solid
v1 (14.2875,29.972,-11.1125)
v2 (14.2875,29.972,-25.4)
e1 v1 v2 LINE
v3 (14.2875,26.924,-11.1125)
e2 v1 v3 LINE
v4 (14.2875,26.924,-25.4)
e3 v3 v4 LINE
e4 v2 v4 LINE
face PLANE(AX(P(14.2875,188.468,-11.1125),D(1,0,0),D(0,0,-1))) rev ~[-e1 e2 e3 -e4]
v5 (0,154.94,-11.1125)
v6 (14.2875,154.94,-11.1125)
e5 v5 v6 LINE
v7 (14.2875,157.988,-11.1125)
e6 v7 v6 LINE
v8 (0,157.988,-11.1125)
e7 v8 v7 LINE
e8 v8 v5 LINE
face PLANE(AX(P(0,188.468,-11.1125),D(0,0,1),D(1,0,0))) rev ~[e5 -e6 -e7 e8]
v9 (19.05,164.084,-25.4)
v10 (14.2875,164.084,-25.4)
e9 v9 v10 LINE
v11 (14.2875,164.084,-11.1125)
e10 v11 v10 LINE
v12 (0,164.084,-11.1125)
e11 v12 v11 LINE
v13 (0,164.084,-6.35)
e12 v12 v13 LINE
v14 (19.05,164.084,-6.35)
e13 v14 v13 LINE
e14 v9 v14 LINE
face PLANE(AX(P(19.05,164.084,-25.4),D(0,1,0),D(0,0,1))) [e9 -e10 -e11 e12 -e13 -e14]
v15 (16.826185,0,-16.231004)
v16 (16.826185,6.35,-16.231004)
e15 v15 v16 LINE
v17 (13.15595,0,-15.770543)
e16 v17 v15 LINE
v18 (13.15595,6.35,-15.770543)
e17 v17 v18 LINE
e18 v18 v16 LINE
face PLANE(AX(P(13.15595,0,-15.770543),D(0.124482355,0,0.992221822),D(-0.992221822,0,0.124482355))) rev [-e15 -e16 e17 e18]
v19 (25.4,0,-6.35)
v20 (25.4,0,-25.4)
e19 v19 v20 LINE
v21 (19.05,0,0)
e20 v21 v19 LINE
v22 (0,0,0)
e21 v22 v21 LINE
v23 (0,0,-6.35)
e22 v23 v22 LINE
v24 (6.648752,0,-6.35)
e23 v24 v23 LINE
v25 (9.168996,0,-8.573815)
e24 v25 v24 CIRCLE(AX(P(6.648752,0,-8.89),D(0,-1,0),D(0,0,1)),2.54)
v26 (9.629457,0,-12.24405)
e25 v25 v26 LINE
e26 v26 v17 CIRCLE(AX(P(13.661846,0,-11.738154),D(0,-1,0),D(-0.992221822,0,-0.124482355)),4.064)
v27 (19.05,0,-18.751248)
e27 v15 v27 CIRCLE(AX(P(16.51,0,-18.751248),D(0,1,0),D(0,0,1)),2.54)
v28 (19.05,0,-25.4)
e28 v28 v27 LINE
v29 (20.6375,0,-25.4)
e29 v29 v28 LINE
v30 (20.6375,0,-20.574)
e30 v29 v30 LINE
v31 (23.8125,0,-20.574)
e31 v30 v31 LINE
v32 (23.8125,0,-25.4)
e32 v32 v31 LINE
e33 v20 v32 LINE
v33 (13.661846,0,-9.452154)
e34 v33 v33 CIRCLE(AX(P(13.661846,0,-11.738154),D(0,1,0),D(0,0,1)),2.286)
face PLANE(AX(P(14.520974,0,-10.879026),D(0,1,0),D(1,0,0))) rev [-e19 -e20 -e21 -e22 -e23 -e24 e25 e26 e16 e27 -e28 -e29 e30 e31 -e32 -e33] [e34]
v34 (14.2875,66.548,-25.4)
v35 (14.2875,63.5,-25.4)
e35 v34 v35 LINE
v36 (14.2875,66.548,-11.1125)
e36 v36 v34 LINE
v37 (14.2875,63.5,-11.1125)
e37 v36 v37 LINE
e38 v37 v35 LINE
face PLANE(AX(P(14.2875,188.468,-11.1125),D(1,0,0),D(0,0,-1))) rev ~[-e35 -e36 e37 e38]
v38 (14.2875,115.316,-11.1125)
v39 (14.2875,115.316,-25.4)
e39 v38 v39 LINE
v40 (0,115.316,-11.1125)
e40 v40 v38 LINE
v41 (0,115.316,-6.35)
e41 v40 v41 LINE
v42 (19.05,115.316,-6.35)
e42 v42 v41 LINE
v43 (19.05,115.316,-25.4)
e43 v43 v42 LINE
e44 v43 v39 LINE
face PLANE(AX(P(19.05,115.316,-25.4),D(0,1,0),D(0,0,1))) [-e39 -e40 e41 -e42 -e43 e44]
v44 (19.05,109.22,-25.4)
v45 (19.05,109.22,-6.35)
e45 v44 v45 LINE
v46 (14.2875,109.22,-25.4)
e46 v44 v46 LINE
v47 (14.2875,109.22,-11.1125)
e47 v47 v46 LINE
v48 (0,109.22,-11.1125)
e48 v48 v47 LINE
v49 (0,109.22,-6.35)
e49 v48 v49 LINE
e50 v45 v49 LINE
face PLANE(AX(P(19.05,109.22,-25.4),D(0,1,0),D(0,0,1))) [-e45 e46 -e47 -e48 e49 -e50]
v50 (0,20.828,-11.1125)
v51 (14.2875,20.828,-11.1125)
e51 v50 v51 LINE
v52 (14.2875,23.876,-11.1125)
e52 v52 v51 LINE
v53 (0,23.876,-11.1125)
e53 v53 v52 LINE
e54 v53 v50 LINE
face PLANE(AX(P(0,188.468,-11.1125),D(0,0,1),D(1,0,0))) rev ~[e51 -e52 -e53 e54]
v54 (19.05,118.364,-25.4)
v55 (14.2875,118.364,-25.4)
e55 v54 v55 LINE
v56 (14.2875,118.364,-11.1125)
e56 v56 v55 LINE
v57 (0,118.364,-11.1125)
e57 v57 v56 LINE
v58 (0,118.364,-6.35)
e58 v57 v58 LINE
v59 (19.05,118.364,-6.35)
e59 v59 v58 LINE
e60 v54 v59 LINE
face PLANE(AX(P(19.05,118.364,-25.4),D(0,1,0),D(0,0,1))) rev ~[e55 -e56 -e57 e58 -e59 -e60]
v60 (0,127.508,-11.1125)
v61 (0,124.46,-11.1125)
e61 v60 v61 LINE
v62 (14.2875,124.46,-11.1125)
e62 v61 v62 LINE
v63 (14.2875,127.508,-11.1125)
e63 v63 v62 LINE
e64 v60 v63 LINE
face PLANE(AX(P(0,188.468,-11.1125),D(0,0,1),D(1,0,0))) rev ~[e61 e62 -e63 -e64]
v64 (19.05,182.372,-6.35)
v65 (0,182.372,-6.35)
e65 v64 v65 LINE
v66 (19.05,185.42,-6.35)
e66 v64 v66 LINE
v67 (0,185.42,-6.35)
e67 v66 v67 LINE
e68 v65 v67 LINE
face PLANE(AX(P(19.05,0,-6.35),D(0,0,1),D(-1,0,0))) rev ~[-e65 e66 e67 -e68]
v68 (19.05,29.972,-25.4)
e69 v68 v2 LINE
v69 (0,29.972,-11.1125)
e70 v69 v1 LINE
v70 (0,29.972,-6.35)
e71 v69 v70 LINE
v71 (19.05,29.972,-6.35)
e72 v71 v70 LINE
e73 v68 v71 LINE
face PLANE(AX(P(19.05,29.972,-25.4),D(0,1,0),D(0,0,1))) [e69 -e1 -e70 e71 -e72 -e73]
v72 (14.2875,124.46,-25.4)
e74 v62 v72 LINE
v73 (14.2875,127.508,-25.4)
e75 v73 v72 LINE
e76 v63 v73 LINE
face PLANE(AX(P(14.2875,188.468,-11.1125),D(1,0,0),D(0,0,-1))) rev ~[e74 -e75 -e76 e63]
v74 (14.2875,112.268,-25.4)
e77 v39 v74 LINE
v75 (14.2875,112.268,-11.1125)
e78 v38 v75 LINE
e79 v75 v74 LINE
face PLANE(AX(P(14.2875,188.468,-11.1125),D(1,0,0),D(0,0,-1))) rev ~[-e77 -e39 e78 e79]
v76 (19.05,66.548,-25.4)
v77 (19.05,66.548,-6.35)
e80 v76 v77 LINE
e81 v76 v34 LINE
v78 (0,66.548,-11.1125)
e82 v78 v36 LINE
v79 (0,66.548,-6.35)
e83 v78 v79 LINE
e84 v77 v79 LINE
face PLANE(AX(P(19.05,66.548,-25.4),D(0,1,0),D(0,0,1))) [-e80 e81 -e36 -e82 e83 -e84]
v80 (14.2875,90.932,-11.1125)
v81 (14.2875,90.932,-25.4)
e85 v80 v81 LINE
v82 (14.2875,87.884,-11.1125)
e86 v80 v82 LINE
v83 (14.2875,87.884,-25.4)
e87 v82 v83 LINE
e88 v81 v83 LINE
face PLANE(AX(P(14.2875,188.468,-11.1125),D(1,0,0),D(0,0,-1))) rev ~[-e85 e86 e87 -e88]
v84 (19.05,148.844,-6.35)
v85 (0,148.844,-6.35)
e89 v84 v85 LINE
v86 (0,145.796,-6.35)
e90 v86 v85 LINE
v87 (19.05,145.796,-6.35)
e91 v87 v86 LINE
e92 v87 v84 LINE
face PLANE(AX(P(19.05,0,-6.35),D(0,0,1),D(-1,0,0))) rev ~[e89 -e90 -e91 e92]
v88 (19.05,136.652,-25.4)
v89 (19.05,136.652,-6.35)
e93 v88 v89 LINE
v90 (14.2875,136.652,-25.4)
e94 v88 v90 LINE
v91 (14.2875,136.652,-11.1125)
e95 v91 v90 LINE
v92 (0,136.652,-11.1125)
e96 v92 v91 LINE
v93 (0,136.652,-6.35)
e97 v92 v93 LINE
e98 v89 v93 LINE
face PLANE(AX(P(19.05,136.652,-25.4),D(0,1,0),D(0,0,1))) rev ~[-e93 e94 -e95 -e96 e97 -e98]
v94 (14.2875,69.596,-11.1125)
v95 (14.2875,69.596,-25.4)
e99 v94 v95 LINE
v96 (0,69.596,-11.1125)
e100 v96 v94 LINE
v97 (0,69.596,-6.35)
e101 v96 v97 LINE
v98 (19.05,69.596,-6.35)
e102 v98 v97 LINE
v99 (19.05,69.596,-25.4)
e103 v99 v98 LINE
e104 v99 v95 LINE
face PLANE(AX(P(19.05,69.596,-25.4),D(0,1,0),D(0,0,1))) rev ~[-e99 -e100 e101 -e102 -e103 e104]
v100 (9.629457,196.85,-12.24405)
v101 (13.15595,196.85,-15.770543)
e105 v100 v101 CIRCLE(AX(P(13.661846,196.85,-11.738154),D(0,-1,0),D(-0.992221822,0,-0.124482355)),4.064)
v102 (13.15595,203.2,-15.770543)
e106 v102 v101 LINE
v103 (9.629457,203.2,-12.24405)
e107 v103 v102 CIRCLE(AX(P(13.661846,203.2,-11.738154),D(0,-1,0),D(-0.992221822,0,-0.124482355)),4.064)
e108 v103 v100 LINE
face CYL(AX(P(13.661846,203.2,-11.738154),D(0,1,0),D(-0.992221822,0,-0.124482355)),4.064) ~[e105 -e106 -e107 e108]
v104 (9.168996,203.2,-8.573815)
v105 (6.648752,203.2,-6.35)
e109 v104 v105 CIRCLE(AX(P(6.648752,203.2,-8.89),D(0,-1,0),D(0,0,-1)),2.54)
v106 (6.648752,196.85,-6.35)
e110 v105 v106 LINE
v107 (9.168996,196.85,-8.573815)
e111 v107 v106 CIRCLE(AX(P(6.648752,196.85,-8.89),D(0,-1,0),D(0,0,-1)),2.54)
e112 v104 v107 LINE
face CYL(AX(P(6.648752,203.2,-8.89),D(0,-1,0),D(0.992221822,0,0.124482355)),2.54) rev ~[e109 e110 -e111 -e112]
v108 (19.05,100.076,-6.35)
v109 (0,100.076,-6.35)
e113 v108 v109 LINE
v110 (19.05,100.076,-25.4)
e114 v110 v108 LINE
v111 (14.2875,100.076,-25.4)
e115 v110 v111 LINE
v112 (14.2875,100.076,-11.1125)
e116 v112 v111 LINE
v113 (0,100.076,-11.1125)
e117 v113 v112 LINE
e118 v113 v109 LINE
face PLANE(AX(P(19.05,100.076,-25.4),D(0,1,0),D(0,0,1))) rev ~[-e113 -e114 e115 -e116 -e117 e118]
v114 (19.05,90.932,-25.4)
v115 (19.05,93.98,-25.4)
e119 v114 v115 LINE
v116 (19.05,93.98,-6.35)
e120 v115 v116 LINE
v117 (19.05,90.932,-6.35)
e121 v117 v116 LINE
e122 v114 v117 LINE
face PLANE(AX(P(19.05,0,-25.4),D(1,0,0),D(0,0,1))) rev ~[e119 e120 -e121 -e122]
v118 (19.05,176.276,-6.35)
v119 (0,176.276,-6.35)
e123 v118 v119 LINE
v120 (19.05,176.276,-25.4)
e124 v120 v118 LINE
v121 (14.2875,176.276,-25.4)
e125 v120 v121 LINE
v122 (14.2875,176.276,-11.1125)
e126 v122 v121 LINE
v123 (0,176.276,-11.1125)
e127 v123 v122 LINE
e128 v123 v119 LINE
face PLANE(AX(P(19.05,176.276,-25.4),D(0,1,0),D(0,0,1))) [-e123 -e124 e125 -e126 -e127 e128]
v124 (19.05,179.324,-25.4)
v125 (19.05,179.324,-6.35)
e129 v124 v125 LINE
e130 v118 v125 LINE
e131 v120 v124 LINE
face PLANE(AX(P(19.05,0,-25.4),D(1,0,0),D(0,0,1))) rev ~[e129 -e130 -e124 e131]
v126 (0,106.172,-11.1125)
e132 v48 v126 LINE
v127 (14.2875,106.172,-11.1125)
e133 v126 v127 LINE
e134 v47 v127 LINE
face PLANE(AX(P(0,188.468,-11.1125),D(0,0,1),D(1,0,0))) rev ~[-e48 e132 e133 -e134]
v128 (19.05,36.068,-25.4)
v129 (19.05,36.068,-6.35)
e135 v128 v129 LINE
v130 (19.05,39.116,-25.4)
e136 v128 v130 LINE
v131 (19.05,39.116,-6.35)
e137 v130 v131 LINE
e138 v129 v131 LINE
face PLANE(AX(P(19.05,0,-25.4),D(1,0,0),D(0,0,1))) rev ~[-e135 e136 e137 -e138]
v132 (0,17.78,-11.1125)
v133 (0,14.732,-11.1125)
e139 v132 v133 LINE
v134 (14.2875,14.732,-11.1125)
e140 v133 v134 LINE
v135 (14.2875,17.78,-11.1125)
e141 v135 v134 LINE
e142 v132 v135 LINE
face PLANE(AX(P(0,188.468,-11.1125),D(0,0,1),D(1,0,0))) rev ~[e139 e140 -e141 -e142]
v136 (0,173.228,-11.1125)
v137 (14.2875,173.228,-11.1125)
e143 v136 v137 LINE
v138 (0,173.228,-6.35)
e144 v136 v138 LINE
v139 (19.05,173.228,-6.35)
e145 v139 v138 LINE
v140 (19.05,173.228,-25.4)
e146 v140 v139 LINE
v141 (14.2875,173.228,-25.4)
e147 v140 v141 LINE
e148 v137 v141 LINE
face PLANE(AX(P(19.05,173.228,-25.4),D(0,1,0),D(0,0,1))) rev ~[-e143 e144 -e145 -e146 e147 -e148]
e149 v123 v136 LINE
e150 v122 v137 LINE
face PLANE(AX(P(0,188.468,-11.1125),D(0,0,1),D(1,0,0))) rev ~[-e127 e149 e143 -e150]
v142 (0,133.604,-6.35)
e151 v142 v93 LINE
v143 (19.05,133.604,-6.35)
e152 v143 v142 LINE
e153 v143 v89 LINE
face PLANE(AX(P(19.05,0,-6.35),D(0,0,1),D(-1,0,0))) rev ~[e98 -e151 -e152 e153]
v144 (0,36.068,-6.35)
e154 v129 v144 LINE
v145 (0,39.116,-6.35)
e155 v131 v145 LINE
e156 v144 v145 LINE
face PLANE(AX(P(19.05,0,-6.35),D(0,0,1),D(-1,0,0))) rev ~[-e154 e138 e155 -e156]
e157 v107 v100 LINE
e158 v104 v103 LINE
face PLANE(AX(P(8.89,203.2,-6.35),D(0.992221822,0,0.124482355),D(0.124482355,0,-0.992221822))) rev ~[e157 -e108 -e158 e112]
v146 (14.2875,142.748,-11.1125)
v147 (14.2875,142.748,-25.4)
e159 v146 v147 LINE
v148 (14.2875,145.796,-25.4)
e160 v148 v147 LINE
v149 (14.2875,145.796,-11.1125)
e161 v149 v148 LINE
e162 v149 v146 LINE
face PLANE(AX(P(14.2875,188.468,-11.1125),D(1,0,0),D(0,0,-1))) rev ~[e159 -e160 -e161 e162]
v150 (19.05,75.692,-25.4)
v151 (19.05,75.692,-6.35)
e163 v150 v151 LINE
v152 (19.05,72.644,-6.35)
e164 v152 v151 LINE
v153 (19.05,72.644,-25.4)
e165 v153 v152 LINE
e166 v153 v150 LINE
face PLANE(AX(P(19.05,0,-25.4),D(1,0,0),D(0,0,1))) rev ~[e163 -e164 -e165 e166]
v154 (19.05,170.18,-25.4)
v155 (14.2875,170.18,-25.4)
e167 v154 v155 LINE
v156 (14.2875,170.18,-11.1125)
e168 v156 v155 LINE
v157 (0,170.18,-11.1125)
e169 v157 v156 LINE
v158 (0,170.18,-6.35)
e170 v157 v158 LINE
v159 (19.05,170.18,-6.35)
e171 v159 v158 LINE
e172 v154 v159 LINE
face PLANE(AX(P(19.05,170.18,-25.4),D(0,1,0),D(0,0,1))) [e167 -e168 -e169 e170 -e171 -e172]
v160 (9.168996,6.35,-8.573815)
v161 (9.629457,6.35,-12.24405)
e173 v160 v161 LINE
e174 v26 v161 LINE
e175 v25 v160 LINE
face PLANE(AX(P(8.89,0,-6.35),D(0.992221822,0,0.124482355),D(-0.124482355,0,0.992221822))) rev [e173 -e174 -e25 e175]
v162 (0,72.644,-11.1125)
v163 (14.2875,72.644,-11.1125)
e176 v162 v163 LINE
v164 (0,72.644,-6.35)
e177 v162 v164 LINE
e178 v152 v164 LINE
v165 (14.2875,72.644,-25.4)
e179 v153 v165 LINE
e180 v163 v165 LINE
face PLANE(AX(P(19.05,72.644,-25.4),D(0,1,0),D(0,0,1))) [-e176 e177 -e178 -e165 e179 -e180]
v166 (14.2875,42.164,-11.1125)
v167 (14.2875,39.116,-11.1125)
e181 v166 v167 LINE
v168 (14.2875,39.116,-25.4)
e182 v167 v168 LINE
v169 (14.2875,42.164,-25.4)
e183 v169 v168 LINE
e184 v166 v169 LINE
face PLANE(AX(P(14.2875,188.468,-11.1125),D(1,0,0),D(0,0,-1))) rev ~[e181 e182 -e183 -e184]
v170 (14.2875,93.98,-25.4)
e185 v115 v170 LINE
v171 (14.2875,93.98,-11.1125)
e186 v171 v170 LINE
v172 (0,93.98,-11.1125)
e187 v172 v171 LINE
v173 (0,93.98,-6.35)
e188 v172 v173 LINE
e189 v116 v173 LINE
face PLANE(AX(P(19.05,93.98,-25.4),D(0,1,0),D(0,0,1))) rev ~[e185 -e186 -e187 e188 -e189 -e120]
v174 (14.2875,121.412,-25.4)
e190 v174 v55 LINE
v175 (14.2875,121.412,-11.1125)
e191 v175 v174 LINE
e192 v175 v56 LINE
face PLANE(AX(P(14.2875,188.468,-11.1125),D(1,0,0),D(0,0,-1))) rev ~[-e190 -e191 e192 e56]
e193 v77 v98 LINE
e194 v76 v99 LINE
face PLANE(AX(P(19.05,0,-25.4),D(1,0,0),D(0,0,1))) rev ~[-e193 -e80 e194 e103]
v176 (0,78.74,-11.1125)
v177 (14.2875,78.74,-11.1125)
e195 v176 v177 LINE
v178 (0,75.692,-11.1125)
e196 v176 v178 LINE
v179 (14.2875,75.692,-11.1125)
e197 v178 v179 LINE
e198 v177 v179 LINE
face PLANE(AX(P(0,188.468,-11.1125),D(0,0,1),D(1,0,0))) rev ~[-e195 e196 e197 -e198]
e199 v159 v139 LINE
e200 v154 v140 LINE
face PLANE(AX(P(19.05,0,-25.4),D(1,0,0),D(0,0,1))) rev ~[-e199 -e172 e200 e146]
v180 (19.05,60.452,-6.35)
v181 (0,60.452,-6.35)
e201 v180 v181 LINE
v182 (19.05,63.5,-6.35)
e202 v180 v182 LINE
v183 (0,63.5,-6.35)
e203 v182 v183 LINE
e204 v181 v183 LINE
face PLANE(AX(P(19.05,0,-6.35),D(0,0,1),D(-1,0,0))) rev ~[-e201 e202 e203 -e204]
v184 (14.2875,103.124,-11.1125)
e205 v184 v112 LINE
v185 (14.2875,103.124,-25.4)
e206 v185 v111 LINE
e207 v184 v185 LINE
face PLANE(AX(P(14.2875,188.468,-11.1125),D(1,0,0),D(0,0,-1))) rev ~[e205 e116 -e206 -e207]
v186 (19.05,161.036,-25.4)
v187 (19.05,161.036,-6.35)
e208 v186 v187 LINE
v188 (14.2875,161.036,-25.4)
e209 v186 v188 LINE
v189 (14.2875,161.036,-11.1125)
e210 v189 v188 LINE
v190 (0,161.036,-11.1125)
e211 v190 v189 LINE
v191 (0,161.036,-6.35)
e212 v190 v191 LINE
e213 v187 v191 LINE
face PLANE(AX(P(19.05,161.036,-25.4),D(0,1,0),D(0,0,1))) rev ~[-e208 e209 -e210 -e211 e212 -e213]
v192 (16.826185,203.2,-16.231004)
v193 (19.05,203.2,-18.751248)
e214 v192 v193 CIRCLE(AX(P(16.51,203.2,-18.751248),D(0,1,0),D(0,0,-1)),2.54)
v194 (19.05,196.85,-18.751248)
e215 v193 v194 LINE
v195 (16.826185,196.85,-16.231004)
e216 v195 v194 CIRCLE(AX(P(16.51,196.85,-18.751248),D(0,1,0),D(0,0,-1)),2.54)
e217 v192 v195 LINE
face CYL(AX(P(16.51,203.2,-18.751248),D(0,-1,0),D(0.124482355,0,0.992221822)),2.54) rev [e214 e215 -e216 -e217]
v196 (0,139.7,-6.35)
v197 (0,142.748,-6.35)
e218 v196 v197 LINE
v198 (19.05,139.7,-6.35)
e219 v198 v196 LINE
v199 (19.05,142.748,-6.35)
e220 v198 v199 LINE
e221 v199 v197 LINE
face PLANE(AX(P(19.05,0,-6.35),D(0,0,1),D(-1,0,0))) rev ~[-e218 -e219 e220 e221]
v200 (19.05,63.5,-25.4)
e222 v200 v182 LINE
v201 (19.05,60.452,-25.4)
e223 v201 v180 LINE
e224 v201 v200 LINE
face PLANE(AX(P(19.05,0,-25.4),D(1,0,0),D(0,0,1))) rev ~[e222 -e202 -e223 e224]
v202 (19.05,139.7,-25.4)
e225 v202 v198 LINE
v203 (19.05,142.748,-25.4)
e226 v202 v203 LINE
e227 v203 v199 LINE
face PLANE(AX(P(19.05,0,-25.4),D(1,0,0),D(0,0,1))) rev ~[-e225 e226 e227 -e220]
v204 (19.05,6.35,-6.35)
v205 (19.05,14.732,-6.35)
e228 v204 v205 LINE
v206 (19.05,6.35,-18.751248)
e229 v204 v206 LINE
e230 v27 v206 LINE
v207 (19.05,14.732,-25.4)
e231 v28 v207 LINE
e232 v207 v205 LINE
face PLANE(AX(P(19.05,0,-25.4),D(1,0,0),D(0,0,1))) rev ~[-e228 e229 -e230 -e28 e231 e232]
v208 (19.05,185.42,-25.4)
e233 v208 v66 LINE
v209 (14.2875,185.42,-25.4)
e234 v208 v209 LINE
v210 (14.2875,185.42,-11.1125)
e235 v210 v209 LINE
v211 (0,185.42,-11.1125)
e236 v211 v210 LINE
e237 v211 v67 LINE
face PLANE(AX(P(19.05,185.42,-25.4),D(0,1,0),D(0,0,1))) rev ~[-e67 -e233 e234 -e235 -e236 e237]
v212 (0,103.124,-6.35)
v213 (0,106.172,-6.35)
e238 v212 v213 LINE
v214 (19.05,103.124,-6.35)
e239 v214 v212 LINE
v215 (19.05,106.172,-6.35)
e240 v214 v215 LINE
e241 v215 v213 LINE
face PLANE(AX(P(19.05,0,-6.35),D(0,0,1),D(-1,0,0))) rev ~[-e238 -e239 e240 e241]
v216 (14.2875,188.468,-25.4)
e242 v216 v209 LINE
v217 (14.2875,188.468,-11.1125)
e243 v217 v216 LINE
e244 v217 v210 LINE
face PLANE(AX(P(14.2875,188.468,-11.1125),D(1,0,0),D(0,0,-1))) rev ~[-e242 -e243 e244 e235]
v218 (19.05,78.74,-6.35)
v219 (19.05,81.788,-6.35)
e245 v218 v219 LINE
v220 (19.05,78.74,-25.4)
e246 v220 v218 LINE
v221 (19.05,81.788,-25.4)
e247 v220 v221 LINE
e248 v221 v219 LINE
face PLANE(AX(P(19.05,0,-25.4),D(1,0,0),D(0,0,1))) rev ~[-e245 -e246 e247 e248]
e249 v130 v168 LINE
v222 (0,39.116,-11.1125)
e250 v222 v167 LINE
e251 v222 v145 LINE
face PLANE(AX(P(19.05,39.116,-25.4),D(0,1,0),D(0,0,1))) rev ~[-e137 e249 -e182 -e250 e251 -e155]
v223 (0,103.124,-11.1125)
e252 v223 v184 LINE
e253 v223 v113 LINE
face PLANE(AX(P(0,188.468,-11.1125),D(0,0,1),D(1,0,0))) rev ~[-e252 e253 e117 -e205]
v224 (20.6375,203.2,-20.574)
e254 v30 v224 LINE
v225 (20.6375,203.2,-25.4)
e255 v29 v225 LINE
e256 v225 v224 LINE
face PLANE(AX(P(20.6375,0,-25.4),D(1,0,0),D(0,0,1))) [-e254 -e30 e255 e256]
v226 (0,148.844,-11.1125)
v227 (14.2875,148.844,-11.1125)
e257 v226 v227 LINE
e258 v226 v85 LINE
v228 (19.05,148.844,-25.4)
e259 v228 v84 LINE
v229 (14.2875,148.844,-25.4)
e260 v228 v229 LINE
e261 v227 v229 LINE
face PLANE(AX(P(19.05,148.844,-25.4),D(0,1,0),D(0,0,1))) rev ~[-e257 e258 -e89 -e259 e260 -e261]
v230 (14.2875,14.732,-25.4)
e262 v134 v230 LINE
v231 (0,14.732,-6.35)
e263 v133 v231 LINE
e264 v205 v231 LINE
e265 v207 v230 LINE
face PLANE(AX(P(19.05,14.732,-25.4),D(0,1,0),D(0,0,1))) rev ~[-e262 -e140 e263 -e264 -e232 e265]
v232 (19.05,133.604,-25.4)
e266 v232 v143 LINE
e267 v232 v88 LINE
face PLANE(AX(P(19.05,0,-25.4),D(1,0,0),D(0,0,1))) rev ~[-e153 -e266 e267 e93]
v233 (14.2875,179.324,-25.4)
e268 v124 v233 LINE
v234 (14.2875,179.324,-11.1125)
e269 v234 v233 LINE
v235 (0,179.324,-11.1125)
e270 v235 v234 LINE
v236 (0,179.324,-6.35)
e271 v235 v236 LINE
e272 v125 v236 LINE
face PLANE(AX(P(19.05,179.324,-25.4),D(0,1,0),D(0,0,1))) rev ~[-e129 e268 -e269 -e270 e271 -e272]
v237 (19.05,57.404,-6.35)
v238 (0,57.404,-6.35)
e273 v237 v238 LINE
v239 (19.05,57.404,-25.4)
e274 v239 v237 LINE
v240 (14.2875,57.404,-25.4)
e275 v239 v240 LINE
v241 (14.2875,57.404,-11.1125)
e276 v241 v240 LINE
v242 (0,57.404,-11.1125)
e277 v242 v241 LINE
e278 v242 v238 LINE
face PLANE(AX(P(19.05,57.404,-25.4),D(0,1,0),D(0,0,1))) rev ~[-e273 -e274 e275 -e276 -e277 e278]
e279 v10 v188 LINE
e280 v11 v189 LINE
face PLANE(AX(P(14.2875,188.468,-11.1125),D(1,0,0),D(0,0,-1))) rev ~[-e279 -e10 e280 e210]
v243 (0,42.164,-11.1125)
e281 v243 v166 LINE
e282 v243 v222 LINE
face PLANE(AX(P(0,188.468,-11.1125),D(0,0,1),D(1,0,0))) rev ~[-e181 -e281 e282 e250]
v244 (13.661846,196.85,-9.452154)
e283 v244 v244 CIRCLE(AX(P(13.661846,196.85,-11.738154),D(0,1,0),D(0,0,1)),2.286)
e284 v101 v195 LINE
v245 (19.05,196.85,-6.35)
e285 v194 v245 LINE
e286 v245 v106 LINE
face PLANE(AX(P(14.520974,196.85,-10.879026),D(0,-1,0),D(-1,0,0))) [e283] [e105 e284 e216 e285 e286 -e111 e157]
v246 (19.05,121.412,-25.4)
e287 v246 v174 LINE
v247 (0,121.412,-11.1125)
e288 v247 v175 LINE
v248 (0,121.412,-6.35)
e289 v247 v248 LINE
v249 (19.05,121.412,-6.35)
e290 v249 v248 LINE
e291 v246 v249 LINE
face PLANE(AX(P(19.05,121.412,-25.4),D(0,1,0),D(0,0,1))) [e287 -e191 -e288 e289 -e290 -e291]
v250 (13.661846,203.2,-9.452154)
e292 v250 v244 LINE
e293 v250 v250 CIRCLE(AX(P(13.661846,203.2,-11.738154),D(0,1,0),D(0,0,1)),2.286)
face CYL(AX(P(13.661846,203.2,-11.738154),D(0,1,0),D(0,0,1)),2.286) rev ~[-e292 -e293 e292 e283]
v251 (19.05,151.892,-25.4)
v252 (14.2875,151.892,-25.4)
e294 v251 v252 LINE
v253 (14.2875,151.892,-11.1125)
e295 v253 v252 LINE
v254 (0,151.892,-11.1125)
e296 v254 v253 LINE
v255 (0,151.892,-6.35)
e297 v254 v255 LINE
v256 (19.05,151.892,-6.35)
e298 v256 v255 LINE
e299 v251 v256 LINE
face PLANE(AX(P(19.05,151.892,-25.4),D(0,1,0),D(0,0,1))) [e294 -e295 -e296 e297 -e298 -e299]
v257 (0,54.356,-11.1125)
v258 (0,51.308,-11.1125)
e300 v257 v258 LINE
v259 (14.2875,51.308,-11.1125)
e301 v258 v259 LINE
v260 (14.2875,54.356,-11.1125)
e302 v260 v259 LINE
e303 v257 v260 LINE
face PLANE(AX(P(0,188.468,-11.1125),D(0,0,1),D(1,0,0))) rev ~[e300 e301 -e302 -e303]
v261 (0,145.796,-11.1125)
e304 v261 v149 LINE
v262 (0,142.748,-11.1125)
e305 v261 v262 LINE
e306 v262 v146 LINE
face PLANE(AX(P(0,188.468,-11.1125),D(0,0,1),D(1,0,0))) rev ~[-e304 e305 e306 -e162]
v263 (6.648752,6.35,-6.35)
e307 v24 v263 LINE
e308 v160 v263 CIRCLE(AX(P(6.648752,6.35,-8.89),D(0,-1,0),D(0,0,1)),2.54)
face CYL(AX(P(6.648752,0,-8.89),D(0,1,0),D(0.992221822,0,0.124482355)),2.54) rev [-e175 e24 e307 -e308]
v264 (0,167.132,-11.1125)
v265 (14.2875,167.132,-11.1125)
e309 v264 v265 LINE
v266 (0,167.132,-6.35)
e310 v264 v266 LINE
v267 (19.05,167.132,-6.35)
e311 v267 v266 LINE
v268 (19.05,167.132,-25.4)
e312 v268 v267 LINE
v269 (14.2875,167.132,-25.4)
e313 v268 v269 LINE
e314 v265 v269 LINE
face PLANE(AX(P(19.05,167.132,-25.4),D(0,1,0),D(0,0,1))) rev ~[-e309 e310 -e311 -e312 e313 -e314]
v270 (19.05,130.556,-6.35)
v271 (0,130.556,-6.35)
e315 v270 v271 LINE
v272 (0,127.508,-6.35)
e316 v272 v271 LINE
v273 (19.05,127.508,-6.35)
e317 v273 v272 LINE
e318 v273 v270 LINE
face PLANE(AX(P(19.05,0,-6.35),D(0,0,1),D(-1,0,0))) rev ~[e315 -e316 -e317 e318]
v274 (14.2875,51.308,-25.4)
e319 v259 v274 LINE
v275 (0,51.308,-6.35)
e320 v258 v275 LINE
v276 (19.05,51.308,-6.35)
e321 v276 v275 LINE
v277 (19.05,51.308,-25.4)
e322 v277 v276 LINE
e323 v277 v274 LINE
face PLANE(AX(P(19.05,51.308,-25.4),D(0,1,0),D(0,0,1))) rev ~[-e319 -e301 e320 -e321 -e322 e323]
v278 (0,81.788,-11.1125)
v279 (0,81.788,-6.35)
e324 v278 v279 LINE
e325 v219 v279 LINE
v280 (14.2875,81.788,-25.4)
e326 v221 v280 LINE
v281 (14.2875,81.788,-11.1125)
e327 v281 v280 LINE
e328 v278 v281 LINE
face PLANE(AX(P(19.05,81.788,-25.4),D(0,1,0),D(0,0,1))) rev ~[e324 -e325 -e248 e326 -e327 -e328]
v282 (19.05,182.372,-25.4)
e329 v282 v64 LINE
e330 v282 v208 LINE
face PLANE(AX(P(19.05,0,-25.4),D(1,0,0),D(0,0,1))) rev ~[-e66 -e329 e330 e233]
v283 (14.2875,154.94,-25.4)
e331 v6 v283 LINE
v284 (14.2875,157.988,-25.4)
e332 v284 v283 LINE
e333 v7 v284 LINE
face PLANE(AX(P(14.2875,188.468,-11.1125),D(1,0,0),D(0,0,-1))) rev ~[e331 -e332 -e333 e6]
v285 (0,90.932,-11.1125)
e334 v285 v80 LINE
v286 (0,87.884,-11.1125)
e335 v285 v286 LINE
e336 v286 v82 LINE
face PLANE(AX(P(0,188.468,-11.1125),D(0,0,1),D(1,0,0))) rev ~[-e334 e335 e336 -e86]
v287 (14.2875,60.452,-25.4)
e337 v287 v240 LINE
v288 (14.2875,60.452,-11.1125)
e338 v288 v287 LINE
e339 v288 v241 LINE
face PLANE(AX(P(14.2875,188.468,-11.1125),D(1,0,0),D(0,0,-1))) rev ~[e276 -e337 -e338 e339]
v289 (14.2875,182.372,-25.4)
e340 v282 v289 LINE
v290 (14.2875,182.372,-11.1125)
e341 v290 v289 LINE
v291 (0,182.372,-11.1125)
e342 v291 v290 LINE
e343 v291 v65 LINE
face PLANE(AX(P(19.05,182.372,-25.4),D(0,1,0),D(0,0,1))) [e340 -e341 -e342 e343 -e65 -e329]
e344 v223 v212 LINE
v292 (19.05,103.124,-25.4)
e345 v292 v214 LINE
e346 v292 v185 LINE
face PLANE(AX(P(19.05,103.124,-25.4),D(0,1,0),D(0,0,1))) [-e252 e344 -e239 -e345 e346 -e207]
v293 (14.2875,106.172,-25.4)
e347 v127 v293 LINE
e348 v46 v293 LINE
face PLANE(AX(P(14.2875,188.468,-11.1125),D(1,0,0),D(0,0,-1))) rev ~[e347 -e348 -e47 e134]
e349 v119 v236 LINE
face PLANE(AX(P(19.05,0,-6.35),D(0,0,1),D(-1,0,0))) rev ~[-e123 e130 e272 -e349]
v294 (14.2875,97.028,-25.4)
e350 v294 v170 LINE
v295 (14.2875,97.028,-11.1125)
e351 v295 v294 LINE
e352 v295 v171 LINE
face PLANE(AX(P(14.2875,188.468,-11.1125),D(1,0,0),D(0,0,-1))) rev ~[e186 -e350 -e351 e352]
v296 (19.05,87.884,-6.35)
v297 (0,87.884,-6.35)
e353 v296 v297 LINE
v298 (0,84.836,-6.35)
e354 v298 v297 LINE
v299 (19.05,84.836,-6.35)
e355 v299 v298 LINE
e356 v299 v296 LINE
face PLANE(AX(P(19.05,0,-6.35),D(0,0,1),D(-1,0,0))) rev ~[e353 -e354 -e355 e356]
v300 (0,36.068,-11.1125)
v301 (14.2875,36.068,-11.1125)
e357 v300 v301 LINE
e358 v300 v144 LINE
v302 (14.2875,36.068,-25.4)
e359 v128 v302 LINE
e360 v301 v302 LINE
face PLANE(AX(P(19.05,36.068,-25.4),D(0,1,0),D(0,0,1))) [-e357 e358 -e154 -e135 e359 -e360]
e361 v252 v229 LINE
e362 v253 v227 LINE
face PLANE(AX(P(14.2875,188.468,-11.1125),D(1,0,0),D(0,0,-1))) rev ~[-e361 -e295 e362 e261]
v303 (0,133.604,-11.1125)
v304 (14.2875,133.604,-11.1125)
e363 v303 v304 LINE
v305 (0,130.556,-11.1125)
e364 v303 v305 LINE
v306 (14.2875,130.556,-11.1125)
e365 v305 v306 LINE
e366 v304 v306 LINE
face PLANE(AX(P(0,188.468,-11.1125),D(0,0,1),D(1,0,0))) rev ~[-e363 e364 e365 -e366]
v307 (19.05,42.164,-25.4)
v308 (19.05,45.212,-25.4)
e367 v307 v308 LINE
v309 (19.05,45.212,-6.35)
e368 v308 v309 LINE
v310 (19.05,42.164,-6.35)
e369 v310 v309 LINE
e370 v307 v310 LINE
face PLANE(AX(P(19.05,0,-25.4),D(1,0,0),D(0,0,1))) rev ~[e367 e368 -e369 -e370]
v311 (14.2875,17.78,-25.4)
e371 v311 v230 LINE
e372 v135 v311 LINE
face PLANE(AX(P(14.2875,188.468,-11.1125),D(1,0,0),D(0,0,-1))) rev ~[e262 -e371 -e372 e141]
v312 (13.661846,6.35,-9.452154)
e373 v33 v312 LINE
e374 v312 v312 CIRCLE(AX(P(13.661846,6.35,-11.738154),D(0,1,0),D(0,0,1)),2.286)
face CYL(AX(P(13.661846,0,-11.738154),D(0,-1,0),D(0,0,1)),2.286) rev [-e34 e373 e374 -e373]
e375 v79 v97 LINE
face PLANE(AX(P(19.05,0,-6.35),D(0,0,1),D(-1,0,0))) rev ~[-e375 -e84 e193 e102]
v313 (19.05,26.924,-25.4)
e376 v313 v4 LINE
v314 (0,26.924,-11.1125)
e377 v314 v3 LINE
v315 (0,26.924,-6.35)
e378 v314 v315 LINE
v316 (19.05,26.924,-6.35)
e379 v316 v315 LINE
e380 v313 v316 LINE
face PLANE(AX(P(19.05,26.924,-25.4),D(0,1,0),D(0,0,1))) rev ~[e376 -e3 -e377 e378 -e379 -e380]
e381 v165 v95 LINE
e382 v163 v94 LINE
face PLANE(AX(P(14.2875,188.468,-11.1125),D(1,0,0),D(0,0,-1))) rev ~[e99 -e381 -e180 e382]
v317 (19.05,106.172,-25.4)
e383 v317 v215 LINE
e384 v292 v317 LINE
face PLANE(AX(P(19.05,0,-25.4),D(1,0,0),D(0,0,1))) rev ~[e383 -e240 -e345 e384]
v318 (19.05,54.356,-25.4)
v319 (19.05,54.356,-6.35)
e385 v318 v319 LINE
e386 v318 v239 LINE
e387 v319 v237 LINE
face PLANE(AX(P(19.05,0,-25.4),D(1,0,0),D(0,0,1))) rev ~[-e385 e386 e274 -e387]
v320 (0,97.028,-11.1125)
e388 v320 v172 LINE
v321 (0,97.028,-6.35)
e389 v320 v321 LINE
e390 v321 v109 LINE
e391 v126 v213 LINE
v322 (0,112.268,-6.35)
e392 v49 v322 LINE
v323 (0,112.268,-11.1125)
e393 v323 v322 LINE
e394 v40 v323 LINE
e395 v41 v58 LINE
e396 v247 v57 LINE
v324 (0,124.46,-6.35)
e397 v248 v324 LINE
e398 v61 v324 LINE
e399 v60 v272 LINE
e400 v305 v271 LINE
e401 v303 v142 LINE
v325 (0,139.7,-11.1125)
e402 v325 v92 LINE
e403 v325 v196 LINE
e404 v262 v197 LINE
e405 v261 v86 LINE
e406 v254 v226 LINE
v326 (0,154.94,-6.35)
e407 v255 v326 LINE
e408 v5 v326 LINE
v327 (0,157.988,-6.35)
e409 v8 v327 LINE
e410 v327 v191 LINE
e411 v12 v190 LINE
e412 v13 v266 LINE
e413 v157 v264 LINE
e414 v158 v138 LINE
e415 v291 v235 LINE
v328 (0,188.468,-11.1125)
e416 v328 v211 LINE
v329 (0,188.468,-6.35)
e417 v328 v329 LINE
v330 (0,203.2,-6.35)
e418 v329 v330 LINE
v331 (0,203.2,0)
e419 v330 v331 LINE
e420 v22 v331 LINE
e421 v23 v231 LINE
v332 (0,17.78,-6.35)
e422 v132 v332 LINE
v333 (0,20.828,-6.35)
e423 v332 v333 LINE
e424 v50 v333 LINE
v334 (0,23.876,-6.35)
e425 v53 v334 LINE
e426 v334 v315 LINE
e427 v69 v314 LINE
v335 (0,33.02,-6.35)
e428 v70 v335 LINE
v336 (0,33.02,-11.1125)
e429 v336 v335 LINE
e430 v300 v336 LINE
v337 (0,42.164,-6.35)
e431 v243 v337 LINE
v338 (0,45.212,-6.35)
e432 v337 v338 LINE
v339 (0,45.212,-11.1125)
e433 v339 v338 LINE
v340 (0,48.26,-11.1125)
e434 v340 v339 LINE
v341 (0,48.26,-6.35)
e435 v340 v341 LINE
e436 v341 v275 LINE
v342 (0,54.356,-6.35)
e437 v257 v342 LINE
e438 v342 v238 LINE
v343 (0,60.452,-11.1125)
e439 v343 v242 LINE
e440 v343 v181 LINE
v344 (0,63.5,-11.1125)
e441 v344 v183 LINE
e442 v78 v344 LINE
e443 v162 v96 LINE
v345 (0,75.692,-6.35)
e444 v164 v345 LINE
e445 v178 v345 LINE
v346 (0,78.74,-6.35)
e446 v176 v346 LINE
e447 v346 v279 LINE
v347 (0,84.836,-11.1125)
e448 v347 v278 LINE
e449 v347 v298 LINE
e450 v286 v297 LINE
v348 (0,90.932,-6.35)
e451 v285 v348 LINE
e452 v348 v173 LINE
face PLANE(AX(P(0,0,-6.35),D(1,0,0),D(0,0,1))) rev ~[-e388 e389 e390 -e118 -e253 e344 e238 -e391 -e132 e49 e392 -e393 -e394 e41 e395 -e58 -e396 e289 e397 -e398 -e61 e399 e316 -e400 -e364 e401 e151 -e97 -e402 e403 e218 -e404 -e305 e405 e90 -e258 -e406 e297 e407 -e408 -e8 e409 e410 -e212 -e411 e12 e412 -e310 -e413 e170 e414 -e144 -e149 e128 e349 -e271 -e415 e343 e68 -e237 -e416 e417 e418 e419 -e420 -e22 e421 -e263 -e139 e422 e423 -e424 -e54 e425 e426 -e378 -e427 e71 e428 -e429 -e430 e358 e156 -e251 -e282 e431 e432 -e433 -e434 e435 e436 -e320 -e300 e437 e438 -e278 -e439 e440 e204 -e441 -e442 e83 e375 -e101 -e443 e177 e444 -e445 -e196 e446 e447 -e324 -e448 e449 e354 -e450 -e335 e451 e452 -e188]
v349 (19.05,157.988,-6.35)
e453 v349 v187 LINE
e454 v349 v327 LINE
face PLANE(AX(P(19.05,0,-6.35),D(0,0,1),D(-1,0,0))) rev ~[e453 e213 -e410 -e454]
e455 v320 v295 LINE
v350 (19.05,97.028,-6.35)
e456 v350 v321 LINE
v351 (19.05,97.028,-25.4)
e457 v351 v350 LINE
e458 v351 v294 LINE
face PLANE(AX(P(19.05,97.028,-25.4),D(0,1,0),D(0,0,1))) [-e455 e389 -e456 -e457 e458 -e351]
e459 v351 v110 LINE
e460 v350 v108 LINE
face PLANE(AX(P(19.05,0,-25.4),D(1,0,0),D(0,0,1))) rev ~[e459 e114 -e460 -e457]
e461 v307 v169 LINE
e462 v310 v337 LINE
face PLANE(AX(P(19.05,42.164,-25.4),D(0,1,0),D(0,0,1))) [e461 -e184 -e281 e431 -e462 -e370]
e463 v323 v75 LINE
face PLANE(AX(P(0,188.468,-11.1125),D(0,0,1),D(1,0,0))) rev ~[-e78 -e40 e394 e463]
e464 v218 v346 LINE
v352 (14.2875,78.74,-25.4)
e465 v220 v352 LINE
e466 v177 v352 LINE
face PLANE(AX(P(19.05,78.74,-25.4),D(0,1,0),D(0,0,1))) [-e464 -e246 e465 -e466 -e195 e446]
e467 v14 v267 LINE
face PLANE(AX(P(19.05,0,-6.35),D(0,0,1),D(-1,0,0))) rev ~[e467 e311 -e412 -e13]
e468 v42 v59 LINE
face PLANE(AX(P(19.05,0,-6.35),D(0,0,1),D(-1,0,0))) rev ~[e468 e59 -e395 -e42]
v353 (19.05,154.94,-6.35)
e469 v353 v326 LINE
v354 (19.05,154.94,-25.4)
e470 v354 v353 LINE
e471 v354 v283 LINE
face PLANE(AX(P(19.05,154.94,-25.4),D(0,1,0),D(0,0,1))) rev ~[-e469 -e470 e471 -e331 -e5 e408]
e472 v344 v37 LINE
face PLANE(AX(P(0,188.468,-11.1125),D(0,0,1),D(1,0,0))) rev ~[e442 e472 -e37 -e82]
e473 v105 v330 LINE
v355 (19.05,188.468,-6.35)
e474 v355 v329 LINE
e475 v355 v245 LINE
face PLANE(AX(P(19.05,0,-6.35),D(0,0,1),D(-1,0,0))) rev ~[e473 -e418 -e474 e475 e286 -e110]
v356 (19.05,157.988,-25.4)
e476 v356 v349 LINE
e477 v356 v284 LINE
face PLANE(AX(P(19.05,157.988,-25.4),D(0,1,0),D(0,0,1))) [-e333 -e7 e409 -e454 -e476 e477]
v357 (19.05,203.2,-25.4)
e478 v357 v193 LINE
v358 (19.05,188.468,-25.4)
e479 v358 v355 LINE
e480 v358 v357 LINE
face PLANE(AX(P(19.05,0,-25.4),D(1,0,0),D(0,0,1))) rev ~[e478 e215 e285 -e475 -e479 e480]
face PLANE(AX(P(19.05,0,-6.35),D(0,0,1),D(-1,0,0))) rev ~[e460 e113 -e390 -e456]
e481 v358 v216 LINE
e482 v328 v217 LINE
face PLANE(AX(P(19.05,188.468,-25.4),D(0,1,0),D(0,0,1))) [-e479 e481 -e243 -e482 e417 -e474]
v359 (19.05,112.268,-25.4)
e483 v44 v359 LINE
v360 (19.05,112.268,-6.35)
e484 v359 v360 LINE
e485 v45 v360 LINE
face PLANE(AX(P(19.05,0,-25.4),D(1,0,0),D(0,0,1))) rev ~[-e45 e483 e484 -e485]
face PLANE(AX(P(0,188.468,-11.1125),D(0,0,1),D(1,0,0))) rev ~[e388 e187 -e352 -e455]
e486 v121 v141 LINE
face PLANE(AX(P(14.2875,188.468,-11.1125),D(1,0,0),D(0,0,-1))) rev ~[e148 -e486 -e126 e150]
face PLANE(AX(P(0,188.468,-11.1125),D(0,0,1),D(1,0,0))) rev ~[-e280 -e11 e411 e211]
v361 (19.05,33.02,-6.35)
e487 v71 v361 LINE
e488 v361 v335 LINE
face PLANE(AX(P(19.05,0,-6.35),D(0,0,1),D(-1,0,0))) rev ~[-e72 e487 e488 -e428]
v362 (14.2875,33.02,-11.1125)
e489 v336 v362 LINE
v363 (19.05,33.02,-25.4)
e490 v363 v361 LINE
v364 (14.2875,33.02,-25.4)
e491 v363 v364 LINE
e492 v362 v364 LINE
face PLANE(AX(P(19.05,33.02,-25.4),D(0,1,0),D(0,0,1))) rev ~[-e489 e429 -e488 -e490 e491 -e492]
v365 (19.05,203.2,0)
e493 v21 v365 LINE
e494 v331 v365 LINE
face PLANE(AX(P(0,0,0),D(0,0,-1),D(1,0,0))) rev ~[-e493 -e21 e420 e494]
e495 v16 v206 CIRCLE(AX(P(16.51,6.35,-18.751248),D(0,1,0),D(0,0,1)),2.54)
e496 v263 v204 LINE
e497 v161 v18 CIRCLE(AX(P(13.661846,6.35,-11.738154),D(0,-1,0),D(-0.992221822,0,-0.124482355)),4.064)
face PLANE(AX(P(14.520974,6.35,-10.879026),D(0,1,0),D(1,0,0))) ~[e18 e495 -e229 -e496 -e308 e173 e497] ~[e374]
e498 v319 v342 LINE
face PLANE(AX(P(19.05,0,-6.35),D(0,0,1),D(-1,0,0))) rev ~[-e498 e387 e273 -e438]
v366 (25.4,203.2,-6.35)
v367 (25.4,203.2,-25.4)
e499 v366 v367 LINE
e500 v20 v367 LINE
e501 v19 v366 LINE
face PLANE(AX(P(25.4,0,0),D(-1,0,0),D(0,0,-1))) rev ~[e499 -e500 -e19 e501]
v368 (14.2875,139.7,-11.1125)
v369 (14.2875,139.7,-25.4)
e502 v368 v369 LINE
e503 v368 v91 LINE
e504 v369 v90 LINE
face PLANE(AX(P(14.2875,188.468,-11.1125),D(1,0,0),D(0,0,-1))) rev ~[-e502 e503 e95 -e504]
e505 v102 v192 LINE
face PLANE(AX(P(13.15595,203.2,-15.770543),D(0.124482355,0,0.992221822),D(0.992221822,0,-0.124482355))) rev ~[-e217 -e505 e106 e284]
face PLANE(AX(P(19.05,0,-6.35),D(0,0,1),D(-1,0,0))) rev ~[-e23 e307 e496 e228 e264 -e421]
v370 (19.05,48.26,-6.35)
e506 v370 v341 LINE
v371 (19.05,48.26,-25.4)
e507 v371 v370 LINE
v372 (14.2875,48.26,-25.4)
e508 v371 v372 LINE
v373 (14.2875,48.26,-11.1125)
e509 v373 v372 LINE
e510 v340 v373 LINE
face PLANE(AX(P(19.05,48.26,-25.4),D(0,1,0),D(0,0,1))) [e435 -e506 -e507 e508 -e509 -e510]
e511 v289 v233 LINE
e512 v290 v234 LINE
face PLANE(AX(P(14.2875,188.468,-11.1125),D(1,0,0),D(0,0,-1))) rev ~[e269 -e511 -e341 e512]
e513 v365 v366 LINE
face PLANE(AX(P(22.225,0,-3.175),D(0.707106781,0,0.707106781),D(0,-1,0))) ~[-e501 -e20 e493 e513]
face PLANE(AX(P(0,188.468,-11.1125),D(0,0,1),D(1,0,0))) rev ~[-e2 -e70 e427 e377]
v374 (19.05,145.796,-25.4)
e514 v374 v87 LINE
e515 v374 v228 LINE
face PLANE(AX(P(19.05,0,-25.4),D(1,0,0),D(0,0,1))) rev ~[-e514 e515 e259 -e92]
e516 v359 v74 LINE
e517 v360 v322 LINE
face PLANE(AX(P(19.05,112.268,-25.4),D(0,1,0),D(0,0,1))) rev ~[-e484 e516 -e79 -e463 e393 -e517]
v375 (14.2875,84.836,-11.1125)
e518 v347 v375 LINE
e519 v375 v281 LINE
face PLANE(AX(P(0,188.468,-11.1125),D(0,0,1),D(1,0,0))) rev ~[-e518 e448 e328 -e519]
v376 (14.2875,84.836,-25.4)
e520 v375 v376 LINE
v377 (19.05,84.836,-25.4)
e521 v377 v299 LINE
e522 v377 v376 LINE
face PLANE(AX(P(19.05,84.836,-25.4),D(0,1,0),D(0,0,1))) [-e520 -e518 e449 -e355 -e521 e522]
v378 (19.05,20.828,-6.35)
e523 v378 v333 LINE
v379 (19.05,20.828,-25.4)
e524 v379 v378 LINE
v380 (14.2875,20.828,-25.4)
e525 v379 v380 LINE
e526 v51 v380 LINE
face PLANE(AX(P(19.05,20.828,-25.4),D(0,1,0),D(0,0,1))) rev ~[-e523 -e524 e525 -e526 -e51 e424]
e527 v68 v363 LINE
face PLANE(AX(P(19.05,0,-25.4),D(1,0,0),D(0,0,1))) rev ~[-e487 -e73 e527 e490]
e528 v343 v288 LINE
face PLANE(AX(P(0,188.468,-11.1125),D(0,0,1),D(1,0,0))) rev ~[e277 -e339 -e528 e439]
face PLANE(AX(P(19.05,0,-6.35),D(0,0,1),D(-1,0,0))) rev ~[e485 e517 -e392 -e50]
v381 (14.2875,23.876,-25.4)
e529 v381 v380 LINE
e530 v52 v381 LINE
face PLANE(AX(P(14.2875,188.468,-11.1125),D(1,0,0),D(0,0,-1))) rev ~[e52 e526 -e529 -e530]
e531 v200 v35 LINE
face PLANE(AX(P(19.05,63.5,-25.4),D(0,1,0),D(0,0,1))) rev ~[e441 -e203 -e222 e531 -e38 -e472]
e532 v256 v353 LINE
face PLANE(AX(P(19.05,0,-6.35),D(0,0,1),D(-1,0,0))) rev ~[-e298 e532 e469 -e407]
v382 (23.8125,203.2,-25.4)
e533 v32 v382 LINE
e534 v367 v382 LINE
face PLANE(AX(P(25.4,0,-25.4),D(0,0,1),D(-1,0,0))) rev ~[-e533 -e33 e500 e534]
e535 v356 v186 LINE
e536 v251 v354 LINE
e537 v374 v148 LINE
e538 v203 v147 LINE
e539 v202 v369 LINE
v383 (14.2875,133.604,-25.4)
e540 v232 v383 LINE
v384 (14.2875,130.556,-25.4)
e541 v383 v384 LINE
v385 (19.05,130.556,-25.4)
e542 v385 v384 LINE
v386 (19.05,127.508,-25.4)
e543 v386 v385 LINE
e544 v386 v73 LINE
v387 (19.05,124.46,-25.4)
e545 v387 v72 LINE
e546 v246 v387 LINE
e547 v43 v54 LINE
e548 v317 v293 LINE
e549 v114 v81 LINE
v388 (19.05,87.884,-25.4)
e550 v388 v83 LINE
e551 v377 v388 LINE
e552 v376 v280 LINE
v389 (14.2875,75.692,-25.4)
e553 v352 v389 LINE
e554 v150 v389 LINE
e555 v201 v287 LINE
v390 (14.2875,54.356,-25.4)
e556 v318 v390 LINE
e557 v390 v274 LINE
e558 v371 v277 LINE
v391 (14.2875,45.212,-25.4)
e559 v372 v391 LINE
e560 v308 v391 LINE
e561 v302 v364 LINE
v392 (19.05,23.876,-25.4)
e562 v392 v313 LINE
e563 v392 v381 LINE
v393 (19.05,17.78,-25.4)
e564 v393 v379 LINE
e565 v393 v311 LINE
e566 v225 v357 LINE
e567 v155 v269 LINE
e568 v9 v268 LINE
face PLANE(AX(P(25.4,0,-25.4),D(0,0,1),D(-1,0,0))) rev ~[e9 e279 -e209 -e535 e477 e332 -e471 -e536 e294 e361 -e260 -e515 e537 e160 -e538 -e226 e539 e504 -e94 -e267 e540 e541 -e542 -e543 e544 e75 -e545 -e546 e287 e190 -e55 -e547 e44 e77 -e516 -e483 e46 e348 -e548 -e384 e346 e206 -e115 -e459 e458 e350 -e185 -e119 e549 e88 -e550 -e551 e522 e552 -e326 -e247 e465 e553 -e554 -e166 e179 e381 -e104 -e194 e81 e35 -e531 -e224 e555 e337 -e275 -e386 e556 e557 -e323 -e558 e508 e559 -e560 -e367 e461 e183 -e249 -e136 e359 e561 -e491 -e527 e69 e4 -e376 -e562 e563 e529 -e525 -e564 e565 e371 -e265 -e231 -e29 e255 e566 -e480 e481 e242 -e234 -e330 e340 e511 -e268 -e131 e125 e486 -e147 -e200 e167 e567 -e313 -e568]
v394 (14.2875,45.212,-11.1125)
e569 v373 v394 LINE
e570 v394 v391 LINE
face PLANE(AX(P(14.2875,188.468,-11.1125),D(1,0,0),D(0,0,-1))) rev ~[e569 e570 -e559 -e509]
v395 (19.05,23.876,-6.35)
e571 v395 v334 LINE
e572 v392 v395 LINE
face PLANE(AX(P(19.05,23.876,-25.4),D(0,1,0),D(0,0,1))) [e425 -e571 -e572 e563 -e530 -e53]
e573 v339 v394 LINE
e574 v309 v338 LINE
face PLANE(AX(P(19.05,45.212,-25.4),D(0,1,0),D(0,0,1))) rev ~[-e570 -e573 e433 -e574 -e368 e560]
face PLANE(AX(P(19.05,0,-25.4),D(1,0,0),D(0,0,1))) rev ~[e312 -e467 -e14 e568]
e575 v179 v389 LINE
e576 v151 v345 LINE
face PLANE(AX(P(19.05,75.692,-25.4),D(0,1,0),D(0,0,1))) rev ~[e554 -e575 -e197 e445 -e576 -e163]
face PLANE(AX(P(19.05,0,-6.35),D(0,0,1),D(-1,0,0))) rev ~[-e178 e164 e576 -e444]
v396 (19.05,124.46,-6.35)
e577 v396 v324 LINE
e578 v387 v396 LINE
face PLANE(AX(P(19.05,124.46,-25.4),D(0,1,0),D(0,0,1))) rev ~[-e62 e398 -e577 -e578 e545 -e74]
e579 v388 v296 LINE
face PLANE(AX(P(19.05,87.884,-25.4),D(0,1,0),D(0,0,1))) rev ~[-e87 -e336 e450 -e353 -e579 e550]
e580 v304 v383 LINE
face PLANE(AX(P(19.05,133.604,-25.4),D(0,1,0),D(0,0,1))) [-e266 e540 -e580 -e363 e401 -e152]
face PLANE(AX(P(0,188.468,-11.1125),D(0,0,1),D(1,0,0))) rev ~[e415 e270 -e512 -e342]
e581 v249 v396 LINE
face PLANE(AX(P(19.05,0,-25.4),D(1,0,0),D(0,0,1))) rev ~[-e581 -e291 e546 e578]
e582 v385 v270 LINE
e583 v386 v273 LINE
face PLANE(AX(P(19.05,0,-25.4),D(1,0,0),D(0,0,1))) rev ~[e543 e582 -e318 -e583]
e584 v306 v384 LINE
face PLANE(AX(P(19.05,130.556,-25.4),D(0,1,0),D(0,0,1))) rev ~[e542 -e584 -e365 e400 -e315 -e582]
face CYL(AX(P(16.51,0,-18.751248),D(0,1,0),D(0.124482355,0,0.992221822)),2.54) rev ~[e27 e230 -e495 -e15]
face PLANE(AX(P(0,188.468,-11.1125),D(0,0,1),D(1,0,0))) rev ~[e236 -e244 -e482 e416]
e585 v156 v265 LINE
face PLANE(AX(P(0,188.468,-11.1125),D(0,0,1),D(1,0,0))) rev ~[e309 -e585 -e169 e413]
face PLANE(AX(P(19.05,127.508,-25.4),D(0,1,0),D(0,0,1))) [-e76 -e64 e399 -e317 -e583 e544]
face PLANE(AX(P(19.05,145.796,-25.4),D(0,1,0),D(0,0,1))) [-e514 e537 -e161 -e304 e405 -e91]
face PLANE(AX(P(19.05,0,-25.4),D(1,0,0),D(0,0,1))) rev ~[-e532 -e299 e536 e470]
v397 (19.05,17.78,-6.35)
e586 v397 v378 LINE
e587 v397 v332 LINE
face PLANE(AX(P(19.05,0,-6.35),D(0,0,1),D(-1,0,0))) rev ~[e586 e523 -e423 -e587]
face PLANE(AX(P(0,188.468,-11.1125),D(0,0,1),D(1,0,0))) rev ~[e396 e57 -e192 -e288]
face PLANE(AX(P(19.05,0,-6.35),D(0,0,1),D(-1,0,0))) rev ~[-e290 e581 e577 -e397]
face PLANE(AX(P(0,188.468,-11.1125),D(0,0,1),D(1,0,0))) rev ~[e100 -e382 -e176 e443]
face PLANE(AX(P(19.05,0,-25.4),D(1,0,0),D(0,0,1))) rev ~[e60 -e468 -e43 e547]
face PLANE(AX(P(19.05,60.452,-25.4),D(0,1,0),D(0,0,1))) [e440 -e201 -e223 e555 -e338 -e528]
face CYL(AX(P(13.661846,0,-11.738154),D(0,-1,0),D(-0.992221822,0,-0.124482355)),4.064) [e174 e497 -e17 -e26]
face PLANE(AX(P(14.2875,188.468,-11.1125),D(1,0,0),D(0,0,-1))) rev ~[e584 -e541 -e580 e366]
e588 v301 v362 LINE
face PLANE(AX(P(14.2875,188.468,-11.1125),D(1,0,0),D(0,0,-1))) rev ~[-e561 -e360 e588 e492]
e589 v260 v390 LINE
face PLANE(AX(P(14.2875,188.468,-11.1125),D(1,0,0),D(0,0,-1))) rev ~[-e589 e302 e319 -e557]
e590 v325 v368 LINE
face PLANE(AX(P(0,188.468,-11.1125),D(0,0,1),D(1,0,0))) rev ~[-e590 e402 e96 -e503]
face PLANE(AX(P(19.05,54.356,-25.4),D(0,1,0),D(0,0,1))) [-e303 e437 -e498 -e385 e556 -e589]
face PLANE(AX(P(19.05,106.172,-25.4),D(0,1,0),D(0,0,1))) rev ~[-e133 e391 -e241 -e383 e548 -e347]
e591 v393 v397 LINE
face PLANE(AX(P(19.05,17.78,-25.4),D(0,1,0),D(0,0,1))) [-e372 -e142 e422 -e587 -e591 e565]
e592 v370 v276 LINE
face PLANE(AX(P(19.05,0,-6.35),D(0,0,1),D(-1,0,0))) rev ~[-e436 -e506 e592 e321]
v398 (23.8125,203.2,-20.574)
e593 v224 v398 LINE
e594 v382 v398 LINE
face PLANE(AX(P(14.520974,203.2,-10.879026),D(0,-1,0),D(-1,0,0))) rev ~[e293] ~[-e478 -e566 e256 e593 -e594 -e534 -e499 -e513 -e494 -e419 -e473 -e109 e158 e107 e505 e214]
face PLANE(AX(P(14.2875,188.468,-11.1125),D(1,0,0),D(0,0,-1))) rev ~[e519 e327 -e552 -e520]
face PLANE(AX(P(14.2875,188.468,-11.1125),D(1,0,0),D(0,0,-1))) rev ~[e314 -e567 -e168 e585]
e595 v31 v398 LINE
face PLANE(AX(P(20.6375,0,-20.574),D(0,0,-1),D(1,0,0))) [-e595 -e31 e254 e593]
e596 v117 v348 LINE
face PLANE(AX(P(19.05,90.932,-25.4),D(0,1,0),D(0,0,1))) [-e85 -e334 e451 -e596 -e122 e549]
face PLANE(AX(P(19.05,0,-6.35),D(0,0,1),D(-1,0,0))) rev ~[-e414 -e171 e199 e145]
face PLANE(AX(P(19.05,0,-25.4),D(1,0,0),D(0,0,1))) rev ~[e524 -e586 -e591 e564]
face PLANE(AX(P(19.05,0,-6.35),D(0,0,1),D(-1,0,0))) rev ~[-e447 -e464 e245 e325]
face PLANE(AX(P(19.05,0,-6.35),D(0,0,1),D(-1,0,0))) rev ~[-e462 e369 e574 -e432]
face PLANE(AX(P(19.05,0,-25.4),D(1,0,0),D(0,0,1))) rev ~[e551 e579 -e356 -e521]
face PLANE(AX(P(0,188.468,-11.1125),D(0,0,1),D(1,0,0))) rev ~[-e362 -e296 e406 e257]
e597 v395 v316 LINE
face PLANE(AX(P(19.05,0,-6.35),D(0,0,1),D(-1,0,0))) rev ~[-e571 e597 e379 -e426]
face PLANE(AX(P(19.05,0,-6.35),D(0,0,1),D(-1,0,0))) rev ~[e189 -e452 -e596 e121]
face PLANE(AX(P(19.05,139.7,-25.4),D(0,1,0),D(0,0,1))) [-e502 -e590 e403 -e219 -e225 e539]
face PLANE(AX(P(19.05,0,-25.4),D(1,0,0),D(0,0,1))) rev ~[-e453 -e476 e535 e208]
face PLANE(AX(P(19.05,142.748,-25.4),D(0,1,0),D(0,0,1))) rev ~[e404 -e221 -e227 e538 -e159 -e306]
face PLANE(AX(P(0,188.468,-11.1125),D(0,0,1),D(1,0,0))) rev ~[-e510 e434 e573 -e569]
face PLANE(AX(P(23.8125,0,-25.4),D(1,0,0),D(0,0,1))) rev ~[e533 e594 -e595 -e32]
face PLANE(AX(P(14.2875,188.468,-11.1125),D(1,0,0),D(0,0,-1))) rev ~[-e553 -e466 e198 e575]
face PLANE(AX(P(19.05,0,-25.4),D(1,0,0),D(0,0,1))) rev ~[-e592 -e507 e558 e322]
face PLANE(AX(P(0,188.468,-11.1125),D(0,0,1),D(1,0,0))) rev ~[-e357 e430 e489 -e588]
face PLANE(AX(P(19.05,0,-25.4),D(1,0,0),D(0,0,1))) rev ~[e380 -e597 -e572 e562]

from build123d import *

# Parameters (mm, degrees)
BOSS_EXTRUDE1_DEPTH  = 203.2
SKETCH2_R            = 2.286
BOSS_EXTRUDE2_DEPTH  = 6.35
FILLET1_R            = 2.54
FILLET1_OF_MIRROR1_R = 2.54
SKETCH4_W            = 3.175
SKETCH4_H            = 4.826
CUT_EXTRUDE2_DEPTH   = 207.350575478
SKETCH5_W            = 19.05
SKETCH5_H            = 3.048
BOSS_EXTRUDE3_DEPTH  = 19.05
CHAMFER1_SIZE        = 6.35
CUT_EXTRUDE3_REACH   = 193.861
SKETCH6_W            = 14.2875
SKETCH6_H            = 14.2875


with BuildPart() as part:
    # Sketch1 → Boss-Extrude1 (new body)
    with BuildSketch(Plane(origin=(0, 0, 0), x_dir=(1, 0, 0), z_dir=(0, 1, 0))):
        Polygon((0, 0), (25.4, 0), (25.4, 25.4), (19.05, 25.4), (19.05, 6.35), (0, 6.35), align=None)
    extrude(amount=BOSS_EXTRUDE1_DEPTH)

    # Sketch2 → Boss-Extrude2 (add)
    with BuildSketch(Plane(origin=(0, 203.2, 0), x_dir=(1, 0, 0), z_dir=(0, 1, 0))):
        with BuildLine():
            Line((19.05, 16.51), (19.05, 6.35))
            Line((19.05, 6.35), (8.89, 6.35))
            Line((8.89, 6.35), (9.629456844, 12.244049961))
            ThreePointArc((9.629456844, 12.244049961), (10.788164369, 14.611835631), (13.155950039, 15.770543156))
            Line((13.155950039, 15.770543156), (19.05, 16.51))
        make_face()
        with Locations(Location((13.661846327, 11.738153673, 0), (0, 0, 270))):
            Circle(SKETCH2_R, mode=Mode.SUBTRACT)
    boss_extrude2 = extrude(amount=-BOSS_EXTRUDE2_DEPTH)

    # Fillet1
    fillet1_edges = [part.edges().sort_by_distance(p)[0] for p in [
        (8.89, 200.025, -6.35),
        (19.05, 200.025, -16.51),
    ]]
    fillet(fillet1_edges, radius=FILLET1_R)

    # Mirror1: Boss-Extrude2 across plane
    add(boss_extrude2.mirror(Plane.ZX.offset(101.6)))

    # Fillet1 of Mirror1
    fillet1_of_mirror1_edges = [part.edges().sort_by_distance(p)[0] for p in [
        (8.89, 3.175, -6.35),
        (19.05, 3.175, -16.51),
    ]]
    fillet(fillet1_of_mirror1_edges, radius=FILLET1_OF_MIRROR1_R)

    # Sketch4 → Cut-Extrude2 (cut, through all)
    with BuildSketch(Plane.XZ):
        with Locations((22.225, -22.987)):
            Rectangle(SKETCH4_W, SKETCH4_H)
    extrude(amount=-CUT_EXTRUDE2_DEPTH, mode=Mode.SUBTRACT)

    # Sketch5 → Boss-Extrude3 (add)
    with BuildSketch(Plane.ZY.offset(-19.05)):
        with Locations((-15.875, 180.848)):
            Rectangle(SKETCH5_W, SKETCH5_H)
        with Locations((-15.875, 186.944)):
            Rectangle(SKETCH5_W, SKETCH5_H)
        with Locations((-15.875, 174.752)):
            Rectangle(SKETCH5_W, SKETCH5_H)
        with Locations((-15.875, 168.656)):
            Rectangle(SKETCH5_W, SKETCH5_H)
        with Locations((-15.875, 162.56)):
            Rectangle(SKETCH5_W, SKETCH5_H)
        with Locations((-15.875, 156.464)):
            Rectangle(SKETCH5_W, SKETCH5_H)
        with Locations((-15.875, 150.368)):
            Rectangle(SKETCH5_W, SKETCH5_H)
        with Locations((-15.875, 144.272)):
            Rectangle(SKETCH5_W, SKETCH5_H)
        with Locations((-15.875, 138.176)):
            Rectangle(SKETCH5_W, SKETCH5_H)
        with Locations((-15.875, 132.08)):
            Rectangle(SKETCH5_W, SKETCH5_H)
        with Locations((-15.875, 125.984)):
            Rectangle(SKETCH5_W, SKETCH5_H)
        with Locations((-15.875, 119.888)):
            Rectangle(SKETCH5_W, SKETCH5_H)
        with Locations((-15.875, 113.792)):
            Rectangle(SKETCH5_W, SKETCH5_H)
        with Locations((-15.875, 107.696)):
            Rectangle(SKETCH5_W, SKETCH5_H)
        with Locations((-15.875, 101.6)):
            Rectangle(SKETCH5_W, SKETCH5_H)
        with Locations((-15.875, 95.504)):
            Rectangle(SKETCH5_W, SKETCH5_H)
        with Locations((-15.875, 89.408)):
            Rectangle(SKETCH5_W, SKETCH5_H)
        with Locations((-15.875, 83.312)):
            Rectangle(SKETCH5_W, SKETCH5_H)
        with Locations((-15.875, 77.216)):
            Rectangle(SKETCH5_W, SKETCH5_H)
        with Locations((-15.875, 71.12)):
            Rectangle(SKETCH5_W, SKETCH5_H)
        with Locations((-15.875, 65.024)):
            Rectangle(SKETCH5_W, SKETCH5_H)
        with Locations((-15.875, 58.928)):
            Rectangle(SKETCH5_W, SKETCH5_H)
        with Locations((-15.875, 52.832)):
            Rectangle(SKETCH5_W, SKETCH5_H)
        with Locations((-15.875, 46.736)):
            Rectangle(SKETCH5_W, SKETCH5_H)
        with Locations((-15.875, 40.64)):
            Rectangle(SKETCH5_W, SKETCH5_H)
        with Locations((-15.875, 34.544)):
            Rectangle(SKETCH5_W, SKETCH5_H)
        with Locations((-15.875, 28.448)):
            Rectangle(SKETCH5_W, SKETCH5_H)
        with Locations((-15.875, 22.352)):
            Rectangle(SKETCH5_W, SKETCH5_H)
        with Locations((-15.875, 16.256)):
            Rectangle(SKETCH5_W, SKETCH5_H)
    extrude(amount=BOSS_EXTRUDE3_DEPTH)

    # Chamfer1
    chamfer1_edges = [part.edges().sort_by_distance(p)[0] for p in [
        (25.4, 101.6, 0),
    ]]
    chamfer(chamfer1_edges, length=CHAMFER1_SIZE)

    # Cut-Extrude3: up to this face of the body (flat: up to its plane)
    cut_extrude3_end = Plane(part.part.faces().sort_by_distance((9.525, 14.732, -15.875))[0])
    # Sketch6 → Cut-Extrude3 (cut, up to the picked face)
    with BuildSketch(Plane(origin=(0, 188.468, 0), x_dir=(1, 0, 0), z_dir=(0, 1, 0)), mode=Mode.PRIVATE) as cut_extrude3_sk1:
        with Locations((7.14375, 18.25625)):
            Rectangle(SKETCH6_W, SKETCH6_H)
    cut_extrude3_tool1 = split(extrude(cut_extrude3_sk1.sketch, amount=-CUT_EXTRUDE3_REACH, mode=Mode.PRIVATE), bisect_by=cut_extrude3_end, keep=Keep.BOTH, mode=Mode.PRIVATE)
    add(cut_extrude3_tool1.solids().sort_by(Axis((7.14375, 188.468, -18.25625), (0, -1, 0)))[0], mode=Mode.SUBTRACT)


solid = part.part
